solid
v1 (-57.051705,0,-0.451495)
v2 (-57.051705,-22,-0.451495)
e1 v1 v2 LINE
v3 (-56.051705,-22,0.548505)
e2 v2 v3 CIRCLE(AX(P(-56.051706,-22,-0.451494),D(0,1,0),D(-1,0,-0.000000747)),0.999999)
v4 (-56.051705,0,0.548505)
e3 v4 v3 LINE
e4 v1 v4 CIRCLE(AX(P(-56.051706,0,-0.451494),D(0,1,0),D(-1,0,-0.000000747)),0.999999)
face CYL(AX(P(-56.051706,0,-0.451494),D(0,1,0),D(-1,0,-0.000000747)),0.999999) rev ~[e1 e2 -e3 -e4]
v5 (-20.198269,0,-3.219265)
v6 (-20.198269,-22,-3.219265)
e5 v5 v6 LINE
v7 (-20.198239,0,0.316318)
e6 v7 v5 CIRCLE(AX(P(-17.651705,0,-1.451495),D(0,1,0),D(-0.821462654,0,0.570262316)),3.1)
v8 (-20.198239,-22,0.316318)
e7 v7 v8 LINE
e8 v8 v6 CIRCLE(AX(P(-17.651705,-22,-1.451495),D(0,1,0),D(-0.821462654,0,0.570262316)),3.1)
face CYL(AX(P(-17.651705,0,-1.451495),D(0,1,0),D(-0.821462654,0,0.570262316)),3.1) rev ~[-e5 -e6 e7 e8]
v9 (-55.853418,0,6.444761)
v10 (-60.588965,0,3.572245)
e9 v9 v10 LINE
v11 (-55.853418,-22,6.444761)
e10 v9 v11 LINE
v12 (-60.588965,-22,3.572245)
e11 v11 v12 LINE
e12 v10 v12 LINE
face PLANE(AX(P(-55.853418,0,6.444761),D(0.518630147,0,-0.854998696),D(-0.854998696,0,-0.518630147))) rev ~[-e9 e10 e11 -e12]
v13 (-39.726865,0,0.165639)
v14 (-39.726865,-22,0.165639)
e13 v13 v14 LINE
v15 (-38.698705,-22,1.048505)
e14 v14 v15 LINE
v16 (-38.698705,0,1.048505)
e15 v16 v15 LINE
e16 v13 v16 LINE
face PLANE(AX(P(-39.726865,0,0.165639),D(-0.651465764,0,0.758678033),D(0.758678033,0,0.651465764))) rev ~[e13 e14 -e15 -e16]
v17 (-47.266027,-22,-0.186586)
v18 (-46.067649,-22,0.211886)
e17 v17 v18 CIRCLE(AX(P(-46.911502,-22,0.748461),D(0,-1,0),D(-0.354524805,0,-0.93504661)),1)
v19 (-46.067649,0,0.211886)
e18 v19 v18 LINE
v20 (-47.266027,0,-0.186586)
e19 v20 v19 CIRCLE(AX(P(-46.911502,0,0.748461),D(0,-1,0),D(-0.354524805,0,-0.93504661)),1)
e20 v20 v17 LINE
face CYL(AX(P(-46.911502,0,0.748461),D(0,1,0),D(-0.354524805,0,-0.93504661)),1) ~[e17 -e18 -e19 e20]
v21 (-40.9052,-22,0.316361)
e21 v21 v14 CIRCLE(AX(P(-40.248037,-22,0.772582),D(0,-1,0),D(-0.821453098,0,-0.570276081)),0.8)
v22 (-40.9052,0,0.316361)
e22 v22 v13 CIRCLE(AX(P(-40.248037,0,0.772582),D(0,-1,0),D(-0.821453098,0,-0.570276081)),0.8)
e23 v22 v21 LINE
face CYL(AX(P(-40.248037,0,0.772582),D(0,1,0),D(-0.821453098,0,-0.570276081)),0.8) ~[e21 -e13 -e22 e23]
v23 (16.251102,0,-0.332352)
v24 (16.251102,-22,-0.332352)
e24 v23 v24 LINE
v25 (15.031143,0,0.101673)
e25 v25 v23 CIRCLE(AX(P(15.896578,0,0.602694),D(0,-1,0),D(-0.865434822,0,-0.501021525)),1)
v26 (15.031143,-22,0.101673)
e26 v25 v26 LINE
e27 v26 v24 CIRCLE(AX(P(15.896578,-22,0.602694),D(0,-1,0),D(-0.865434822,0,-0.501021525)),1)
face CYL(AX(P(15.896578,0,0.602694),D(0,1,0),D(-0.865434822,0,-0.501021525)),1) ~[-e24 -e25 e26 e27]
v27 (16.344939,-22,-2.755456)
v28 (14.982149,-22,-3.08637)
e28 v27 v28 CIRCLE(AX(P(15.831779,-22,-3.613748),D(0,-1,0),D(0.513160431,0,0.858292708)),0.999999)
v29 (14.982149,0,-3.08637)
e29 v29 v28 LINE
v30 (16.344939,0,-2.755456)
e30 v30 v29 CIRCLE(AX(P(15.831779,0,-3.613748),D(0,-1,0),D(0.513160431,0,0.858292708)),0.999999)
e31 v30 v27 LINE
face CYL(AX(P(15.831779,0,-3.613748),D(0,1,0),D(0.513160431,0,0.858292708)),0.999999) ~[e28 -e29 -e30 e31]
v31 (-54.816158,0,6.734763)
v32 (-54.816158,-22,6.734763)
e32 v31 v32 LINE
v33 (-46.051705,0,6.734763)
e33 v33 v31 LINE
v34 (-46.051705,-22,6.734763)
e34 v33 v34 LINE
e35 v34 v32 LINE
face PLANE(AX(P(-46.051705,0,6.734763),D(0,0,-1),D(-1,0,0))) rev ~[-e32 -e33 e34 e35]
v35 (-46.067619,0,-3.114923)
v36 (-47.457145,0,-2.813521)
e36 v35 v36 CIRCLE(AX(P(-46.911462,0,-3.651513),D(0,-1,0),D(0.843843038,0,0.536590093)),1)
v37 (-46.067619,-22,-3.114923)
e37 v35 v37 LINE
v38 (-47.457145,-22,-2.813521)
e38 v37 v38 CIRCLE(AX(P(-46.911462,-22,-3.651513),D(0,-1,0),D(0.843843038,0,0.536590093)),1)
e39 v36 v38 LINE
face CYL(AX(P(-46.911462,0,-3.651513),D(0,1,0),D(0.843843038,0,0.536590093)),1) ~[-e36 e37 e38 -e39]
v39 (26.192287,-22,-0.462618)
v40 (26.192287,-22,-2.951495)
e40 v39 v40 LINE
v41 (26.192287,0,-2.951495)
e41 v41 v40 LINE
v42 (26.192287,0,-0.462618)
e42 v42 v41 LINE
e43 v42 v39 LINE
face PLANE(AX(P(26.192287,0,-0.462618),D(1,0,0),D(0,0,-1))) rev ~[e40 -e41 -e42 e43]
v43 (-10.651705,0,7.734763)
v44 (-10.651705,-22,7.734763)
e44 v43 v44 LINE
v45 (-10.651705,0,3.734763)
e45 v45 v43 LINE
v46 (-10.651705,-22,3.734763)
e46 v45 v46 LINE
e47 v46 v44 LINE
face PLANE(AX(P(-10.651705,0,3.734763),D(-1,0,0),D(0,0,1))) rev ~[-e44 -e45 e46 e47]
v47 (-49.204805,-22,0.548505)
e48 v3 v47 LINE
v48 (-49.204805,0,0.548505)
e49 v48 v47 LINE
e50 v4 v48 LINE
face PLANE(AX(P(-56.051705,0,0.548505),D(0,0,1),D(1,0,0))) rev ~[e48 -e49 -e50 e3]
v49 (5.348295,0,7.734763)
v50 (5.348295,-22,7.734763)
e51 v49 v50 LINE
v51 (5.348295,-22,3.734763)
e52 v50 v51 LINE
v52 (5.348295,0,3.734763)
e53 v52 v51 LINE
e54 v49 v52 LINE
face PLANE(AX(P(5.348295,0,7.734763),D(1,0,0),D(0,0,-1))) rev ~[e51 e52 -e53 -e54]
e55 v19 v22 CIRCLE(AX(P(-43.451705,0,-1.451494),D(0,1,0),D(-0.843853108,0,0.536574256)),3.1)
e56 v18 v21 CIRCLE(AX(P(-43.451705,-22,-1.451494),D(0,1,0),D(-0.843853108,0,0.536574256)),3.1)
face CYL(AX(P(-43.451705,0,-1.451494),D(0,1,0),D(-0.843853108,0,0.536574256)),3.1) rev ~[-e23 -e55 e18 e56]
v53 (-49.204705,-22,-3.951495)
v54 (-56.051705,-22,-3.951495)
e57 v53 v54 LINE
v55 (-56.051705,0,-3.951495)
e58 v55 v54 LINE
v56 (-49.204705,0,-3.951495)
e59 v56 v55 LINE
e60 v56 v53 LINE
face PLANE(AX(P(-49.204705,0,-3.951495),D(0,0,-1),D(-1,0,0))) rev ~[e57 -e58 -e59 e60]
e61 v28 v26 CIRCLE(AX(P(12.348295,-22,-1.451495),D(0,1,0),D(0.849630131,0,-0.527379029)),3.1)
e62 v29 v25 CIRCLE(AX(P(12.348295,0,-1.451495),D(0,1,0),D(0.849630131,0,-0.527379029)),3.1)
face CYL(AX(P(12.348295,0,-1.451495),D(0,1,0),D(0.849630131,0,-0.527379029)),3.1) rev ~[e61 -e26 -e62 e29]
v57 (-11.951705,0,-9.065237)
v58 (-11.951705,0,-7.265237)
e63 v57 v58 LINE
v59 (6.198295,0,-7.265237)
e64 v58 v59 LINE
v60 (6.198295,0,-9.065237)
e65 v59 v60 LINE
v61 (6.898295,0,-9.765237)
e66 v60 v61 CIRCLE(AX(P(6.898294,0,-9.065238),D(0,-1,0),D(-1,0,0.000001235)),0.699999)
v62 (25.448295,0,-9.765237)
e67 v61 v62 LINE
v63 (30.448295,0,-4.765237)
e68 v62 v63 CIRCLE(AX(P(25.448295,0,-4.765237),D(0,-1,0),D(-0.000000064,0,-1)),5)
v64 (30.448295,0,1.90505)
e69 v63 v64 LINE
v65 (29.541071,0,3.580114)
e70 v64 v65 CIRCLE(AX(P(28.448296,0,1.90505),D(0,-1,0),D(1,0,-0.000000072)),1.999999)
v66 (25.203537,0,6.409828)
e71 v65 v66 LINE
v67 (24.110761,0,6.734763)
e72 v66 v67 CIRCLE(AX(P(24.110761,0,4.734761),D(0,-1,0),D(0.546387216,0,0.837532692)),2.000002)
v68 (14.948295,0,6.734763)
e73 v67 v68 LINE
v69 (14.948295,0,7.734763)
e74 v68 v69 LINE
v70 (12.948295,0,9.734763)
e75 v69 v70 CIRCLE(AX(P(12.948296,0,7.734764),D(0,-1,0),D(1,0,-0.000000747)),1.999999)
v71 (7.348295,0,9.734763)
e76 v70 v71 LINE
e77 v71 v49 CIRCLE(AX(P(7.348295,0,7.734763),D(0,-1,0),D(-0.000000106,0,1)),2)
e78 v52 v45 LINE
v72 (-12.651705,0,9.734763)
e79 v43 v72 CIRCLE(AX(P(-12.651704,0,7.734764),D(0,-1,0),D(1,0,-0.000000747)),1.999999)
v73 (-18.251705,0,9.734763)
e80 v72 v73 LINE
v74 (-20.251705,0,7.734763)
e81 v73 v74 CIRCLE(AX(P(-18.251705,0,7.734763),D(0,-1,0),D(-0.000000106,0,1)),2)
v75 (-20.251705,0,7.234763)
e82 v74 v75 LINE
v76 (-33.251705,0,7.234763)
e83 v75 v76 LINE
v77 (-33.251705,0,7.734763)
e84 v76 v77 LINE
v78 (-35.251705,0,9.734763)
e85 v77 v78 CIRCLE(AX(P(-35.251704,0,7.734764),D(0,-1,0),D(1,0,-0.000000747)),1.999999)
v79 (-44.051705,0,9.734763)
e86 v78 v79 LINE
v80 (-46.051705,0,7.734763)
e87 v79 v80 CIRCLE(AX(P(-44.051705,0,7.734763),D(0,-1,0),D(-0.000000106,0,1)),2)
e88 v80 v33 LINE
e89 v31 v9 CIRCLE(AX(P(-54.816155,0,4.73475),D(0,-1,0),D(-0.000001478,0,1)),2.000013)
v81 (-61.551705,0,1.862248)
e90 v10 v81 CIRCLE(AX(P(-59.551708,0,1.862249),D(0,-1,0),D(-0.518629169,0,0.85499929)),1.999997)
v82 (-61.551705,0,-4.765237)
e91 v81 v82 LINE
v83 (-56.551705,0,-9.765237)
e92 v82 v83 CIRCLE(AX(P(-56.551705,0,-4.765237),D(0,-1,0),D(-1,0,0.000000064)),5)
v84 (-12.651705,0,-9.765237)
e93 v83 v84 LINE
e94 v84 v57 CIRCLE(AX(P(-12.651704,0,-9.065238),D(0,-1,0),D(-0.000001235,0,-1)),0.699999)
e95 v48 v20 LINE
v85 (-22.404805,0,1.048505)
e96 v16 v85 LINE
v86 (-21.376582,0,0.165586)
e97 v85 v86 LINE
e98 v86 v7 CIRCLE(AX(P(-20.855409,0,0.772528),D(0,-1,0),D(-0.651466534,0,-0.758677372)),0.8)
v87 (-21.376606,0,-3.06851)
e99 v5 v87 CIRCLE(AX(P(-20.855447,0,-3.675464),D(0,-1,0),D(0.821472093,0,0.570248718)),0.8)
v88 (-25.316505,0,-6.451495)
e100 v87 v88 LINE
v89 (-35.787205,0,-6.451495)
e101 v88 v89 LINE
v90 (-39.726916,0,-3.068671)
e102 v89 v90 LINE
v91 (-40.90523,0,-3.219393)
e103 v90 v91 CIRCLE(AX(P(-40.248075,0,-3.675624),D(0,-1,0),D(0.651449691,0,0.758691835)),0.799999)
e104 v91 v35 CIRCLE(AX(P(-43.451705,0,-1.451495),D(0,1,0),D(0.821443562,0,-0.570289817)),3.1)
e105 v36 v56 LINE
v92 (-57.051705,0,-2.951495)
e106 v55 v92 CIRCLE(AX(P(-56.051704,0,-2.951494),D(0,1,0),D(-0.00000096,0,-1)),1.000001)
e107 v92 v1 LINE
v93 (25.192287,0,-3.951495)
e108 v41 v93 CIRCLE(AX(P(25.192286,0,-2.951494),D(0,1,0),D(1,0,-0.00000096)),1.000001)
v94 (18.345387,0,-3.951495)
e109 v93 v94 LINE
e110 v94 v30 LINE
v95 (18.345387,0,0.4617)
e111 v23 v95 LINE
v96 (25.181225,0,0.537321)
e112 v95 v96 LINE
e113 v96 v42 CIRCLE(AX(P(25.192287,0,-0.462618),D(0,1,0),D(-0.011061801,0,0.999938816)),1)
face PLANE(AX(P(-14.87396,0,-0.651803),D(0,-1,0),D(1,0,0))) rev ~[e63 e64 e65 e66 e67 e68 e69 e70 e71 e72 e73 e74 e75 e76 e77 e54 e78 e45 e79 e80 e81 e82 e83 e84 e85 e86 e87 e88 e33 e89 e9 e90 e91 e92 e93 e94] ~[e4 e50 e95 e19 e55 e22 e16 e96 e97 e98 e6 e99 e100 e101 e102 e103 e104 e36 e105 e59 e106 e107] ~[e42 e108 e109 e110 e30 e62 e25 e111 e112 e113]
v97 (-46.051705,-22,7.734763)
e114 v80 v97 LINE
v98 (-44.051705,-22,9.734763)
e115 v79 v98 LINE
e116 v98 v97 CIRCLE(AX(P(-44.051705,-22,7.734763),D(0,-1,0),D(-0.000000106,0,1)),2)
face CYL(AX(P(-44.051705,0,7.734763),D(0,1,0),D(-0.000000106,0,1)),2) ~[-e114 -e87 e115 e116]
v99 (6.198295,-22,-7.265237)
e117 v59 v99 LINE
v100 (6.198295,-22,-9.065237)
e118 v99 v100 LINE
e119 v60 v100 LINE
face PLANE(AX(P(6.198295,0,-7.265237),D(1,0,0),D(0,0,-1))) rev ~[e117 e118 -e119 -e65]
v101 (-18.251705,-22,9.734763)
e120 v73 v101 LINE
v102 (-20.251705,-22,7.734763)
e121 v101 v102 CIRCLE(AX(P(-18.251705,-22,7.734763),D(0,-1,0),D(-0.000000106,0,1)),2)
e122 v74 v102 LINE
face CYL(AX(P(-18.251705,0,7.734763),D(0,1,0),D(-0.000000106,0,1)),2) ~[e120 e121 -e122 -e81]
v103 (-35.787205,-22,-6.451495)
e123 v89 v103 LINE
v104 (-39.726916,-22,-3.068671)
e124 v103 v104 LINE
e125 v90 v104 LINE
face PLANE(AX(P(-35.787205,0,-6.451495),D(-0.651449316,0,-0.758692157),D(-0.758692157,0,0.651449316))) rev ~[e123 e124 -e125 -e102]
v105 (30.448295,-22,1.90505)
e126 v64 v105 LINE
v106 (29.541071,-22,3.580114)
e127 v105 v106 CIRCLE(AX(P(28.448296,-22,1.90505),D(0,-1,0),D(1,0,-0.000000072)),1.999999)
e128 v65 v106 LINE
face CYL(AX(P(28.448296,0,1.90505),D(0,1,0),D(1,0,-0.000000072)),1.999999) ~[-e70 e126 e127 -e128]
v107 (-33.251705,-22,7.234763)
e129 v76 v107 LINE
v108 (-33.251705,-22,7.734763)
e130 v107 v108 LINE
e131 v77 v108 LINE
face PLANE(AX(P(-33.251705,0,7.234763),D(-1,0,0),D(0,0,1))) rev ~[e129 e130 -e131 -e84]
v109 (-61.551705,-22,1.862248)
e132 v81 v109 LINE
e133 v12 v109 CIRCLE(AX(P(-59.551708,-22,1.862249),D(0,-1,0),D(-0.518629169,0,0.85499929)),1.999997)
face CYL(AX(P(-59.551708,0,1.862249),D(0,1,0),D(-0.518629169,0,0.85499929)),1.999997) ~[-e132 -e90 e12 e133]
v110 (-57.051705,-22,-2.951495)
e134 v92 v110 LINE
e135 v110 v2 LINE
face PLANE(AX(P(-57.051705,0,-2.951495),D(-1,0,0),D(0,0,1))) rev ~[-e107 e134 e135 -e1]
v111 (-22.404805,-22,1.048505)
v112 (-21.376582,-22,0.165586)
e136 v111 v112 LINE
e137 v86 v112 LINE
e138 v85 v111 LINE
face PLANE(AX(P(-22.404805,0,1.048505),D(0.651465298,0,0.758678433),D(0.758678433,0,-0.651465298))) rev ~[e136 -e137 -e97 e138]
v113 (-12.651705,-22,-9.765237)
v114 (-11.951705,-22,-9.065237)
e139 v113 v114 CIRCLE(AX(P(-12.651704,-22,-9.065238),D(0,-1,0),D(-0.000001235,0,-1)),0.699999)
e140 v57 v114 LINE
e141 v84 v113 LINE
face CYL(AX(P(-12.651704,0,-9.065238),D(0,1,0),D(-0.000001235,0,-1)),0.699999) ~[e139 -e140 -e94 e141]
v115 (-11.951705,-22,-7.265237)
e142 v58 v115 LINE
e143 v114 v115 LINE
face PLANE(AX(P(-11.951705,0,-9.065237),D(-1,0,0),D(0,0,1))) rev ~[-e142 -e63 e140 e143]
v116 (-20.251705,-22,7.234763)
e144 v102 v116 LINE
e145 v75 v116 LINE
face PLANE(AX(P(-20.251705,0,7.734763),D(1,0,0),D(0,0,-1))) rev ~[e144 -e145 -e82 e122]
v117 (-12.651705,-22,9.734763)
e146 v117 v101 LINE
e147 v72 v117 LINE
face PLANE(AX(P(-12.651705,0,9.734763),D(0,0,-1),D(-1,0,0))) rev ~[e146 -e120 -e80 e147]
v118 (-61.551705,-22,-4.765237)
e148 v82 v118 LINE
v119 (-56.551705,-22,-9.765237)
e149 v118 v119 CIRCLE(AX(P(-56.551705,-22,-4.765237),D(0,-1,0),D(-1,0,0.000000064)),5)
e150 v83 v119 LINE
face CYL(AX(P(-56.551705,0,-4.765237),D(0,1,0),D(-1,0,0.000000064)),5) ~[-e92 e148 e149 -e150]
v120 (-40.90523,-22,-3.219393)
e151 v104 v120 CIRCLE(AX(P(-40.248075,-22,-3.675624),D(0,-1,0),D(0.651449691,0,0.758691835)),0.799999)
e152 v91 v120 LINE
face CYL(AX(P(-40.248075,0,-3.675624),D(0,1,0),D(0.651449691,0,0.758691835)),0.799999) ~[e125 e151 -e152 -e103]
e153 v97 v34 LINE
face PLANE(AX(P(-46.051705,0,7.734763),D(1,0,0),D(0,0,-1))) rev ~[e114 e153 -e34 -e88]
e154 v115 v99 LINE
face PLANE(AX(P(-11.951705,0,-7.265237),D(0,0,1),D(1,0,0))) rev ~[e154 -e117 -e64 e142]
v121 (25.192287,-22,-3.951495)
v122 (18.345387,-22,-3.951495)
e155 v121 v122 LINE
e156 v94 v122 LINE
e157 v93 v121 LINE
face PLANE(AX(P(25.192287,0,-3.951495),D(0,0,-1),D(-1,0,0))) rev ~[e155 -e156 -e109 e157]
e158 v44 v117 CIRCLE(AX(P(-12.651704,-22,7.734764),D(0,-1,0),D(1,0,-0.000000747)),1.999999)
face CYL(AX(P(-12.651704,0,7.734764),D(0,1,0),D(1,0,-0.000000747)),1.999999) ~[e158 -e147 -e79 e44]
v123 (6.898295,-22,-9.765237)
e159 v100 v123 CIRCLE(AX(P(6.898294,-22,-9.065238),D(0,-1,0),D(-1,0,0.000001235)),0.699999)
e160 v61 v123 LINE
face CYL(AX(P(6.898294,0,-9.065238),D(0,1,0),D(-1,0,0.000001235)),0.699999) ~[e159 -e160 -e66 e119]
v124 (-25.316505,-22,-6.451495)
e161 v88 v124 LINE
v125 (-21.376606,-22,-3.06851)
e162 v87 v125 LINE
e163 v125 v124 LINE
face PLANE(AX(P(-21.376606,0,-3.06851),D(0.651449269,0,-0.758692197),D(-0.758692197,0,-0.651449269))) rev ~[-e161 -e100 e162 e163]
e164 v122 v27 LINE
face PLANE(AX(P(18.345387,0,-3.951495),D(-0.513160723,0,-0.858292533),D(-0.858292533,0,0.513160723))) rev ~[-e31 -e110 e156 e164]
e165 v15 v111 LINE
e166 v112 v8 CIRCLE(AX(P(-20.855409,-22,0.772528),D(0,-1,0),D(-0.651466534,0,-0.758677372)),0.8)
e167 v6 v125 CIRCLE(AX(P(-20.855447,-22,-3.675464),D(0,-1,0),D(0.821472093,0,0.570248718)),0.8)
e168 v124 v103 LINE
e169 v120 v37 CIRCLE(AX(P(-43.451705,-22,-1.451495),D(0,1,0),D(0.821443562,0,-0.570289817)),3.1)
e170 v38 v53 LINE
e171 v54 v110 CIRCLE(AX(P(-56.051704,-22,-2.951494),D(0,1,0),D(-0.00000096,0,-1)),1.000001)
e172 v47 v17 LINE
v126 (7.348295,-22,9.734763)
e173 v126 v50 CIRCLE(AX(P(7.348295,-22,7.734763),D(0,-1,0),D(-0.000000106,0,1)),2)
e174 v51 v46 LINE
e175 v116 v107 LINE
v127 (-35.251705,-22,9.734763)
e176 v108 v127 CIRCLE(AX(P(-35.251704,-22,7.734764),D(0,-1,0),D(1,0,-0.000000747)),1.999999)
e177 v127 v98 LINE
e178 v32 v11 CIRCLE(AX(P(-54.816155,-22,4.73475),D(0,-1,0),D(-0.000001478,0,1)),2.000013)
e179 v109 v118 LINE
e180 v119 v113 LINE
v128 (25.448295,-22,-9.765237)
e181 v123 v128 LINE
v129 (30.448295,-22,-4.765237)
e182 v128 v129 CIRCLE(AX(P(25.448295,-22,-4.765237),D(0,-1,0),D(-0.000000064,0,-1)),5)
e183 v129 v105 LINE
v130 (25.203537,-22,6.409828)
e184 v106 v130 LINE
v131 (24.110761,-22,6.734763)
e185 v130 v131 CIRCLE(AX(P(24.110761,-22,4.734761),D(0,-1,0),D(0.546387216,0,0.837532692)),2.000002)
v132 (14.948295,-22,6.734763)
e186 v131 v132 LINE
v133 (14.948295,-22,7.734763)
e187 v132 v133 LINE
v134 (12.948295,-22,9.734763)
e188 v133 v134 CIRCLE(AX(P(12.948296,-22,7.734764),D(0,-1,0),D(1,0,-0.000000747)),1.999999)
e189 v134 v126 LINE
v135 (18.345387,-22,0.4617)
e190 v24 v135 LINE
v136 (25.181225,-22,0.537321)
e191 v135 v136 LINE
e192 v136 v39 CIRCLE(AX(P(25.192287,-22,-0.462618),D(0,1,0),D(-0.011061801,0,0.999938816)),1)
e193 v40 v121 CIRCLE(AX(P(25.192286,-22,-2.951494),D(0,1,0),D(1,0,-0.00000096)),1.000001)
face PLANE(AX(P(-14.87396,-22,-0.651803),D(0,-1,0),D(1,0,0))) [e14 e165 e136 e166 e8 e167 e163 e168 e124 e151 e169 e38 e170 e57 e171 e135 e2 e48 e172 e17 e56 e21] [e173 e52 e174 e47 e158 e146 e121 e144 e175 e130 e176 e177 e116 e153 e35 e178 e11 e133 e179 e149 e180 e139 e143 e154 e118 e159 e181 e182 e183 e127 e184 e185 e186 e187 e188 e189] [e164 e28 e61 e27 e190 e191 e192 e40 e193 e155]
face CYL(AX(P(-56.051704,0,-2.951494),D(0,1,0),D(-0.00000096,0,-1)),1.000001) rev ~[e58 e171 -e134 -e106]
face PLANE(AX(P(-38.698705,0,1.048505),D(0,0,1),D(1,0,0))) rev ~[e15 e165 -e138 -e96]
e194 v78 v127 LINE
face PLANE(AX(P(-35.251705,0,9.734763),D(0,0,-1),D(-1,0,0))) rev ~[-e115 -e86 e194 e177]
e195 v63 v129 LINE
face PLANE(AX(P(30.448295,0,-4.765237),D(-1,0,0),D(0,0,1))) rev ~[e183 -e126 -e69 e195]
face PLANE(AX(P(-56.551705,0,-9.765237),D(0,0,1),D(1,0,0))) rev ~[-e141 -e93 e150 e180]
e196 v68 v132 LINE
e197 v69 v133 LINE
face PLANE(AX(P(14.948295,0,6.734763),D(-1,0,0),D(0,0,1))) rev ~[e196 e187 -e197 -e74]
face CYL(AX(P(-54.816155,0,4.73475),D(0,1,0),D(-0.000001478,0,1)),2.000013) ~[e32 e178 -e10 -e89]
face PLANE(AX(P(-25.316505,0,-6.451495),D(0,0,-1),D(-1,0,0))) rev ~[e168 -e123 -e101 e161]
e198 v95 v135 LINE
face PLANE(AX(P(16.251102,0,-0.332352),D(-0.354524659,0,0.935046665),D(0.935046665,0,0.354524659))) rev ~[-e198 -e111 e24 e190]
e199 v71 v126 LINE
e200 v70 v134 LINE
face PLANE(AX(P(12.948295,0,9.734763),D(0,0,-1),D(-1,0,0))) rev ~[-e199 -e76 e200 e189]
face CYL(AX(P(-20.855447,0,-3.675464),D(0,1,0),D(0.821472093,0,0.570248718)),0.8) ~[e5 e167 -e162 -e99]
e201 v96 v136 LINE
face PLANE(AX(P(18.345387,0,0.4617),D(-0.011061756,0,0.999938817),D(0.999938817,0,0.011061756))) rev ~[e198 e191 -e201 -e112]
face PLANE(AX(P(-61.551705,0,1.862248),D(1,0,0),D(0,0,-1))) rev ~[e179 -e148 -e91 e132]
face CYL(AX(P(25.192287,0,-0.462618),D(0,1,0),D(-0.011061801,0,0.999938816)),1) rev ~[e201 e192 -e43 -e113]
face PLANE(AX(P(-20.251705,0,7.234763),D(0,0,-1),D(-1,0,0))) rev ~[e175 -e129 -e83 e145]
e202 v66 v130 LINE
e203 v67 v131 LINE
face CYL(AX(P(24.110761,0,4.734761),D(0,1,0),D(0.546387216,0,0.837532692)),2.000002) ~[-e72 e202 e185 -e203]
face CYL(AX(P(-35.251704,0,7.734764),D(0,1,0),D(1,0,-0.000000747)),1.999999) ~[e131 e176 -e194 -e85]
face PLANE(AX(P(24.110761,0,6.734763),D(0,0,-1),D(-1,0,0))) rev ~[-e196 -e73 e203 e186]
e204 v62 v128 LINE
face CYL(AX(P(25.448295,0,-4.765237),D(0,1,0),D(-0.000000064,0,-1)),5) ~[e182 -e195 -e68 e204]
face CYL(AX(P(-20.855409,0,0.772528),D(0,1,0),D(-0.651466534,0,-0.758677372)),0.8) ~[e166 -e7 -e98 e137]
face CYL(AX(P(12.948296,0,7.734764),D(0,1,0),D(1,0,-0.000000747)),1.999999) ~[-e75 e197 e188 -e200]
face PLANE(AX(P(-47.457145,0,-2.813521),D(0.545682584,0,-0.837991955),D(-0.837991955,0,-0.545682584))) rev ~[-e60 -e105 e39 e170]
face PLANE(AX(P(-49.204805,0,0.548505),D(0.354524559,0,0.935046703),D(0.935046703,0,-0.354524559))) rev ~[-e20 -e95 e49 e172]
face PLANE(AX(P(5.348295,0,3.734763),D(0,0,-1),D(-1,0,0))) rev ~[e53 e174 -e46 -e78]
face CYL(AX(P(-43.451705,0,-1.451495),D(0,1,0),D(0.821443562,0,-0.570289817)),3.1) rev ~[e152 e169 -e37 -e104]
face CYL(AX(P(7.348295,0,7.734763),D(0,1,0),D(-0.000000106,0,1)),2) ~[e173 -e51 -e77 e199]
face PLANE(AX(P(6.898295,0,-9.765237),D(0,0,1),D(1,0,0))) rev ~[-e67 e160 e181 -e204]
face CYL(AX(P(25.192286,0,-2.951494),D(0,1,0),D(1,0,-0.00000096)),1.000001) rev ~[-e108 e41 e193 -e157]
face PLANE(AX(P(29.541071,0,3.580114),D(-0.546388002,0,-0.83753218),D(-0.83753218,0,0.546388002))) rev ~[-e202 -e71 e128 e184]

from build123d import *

# Parameters (mm, degrees)
F1_DEPTH = 22


with BuildPart() as f1:
    # F0 (on Front) → F1 (new body)
    with BuildSketch(Plane.XZ):
        with BuildLine():
            Line((-35.251705, 9.734763), (-44.051705, 9.734763))
            ThreePointArc((-44.051705, 9.734763), (-45.465918, 9.148977), (-46.051705, 7.734763))
            Line((-46.051705, 7.734763), (-46.051705, 6.734763))
            Line((-46.051705, 6.734763), (-54.816158, 6.734763))
            ThreePointArc((-54.816158, 6.734763), (-55.354677, 6.660898), (-55.853418, 6.444761))
            Line((-55.853418, 6.444761), (-60.588965, 3.572245))
            ThreePointArc((-60.588965, 3.572245), (-61.294479, 2.843441), (-61.551705, 1.862248))
            Line((-61.551705, 1.862248), (-61.551705, -4.765237))
            ThreePointArc((-61.551705, -4.765237), (-60.087239, -8.300771), (-56.551705, -9.765237))
            Line((-56.551705, -9.765237), (-12.651705, -9.765237))
            ThreePointArc((-12.651705, -9.765237), (-12.15673, -9.560212), (-11.951705, -9.065237))
            Line((-11.951705, -9.065237), (-11.951705, -7.265237))
            Line((-11.951705, -7.265237), (6.198295, -7.265237))
            Line((6.198295, -7.265237), (6.198295, -9.065237))
            ThreePointArc((6.198295, -9.065237), (6.40332, -9.560212), (6.898295, -9.765237))
            Line((6.898295, -9.765237), (25.448295, -9.765237))
            ThreePointArc((25.448295, -9.765237), (28.983829, -8.300771), (30.448295, -4.765237))
            Line((30.448295, -4.765237), (30.448295, 1.90505))
            ThreePointArc((30.448295, 1.90505), (30.206924, 2.857533), (29.541071, 3.580114))
            Line((29.541071, 3.580114), (25.203537, 6.409828))
            ThreePointArc((25.203537, 6.409828), (24.680792, 6.651809), (24.110761, 6.734763))
            Line((24.110761, 6.734763), (14.948295, 6.734763))
            Line((14.948295, 6.734763), (14.948295, 7.734763))
            ThreePointArc((14.948295, 7.734763), (14.362509, 9.148977), (12.948295, 9.734763))
            Line((12.948295, 9.734763), (7.348295, 9.734763))
            ThreePointArc((7.348295, 9.734763), (5.934082, 9.148977), (5.348295, 7.734763))
            Line((5.348295, 7.734763), (5.348295, 3.734763))
            Line((5.348295, 3.734763), (-10.651705, 3.734763))
            Line((-10.651705, 3.734763), (-10.651705, 7.734763))
            ThreePointArc((-10.651705, 7.734763), (-11.237491, 9.148977), (-12.651705, 9.734763))
            Line((-12.651705, 9.734763), (-18.251705, 9.734763))
            ThreePointArc((-18.251705, 9.734763), (-19.665918, 9.148977), (-20.251705, 7.734763))
            Line((-20.251705, 7.734763), (-20.251705, 7.234763))
            Line((-20.251705, 7.234763), (-33.251705, 7.234763))
            Line((-33.251705, 7.234763), (-33.251705, 7.734763))
            ThreePointArc((-33.251705, 7.734763), (-33.837491, 9.148977), (-35.251705, 9.734763))
        make_face()
        with BuildLine():
            ThreePointArc((-40.90523, -3.219393), (-43.514426, -4.55086), (-46.067619, -3.114923))
            ThreePointArc((-46.067619, -3.114923), (-46.699482, -2.674239), (-47.457145, -2.813521))
            Line((-47.457145, -2.813521), (-49.204705, -3.951495))
            Line((-49.204705, -3.951495), (-56.051705, -3.951495))
            ThreePointArc((-56.051705, -3.951495), (-56.758812, -3.658601), (-57.051705, -2.951495))
            Line((-57.051705, -2.951495), (-57.051705, -0.451495))
            ThreePointArc((-57.051705, -0.451495), (-56.758812, 0.255612), (-56.051705, 0.548505))
            Line((-56.051705, 0.548505), (-49.204805, 0.548505))
            Line((-49.204805, 0.548505), (-47.266027, -0.186586))
            ThreePointArc((-47.266027, -0.186586), (-46.595978, -0.200457), (-46.067649, 0.211886))
            ThreePointArc((-46.067649, 0.211886), (-43.514428, 1.647871), (-40.9052, 0.316361))
            ThreePointArc((-40.9052, 0.316361), (-40.349539, -0.020953), (-39.726865, 0.165639))
            Line((-39.726865, 0.165639), (-38.698705, 1.048505))
            Line((-38.698705, 1.048505), (-22.404805, 1.048505))
            Line((-22.404805, 1.048505), (-21.376582, 0.165586))
            ThreePointArc((-21.376582, 0.165586), (-20.753901, -0.021006), (-20.198239, 0.316318))
            ThreePointArc((-20.198239, 0.316318), (-14.551705, -1.451521), (-20.198269, -3.219265))
            ThreePointArc((-20.198269, -3.219265), (-20.753923, -2.881932), (-21.376606, -3.06851))
            Line((-21.376606, -3.06851), (-25.316505, -6.451495))
            Line((-25.316505, -6.451495), (-35.787205, -6.451495))
            Line((-35.787205, -6.451495), (-39.726916, -3.068671))
            ThreePointArc((-39.726916, -3.068671), (-40.349578, -2.88209), (-40.90523, -3.219393))
        make_face(mode=Mode.SUBTRACT)
        with BuildLine():
            ThreePointArc((14.982149, -3.08637), (9.248661, -1.403859), (15.031143, 0.101673))
            ThreePointArc((15.031143, 0.101673), (15.561388, -0.339456), (16.251102, -0.332352))
            Line((16.251102, -0.332352), (18.345387, 0.4617))
            Line((18.345387, 0.4617), (25.181225, 0.537321))
            ThreePointArc((25.181225, 0.537321), (25.895472, 0.248389), (26.192287, -0.462618))
            Line((26.192287, -0.462618), (26.192287, -2.951495))
            ThreePointArc((26.192287, -2.951495), (25.899394, -3.658601), (25.192287, -3.951495))
            Line((25.192287, -3.951495), (18.345387, -3.951495))
            Line((18.345387, -3.951495), (16.344939, -2.755456))
            ThreePointArc((16.344939, -2.755456), (15.595815, -2.641987), (14.982149, -3.08637))
        make_face(mode=Mode.SUBTRACT)
    extrude(amount=F1_DEPTH)


solid = f1.part
